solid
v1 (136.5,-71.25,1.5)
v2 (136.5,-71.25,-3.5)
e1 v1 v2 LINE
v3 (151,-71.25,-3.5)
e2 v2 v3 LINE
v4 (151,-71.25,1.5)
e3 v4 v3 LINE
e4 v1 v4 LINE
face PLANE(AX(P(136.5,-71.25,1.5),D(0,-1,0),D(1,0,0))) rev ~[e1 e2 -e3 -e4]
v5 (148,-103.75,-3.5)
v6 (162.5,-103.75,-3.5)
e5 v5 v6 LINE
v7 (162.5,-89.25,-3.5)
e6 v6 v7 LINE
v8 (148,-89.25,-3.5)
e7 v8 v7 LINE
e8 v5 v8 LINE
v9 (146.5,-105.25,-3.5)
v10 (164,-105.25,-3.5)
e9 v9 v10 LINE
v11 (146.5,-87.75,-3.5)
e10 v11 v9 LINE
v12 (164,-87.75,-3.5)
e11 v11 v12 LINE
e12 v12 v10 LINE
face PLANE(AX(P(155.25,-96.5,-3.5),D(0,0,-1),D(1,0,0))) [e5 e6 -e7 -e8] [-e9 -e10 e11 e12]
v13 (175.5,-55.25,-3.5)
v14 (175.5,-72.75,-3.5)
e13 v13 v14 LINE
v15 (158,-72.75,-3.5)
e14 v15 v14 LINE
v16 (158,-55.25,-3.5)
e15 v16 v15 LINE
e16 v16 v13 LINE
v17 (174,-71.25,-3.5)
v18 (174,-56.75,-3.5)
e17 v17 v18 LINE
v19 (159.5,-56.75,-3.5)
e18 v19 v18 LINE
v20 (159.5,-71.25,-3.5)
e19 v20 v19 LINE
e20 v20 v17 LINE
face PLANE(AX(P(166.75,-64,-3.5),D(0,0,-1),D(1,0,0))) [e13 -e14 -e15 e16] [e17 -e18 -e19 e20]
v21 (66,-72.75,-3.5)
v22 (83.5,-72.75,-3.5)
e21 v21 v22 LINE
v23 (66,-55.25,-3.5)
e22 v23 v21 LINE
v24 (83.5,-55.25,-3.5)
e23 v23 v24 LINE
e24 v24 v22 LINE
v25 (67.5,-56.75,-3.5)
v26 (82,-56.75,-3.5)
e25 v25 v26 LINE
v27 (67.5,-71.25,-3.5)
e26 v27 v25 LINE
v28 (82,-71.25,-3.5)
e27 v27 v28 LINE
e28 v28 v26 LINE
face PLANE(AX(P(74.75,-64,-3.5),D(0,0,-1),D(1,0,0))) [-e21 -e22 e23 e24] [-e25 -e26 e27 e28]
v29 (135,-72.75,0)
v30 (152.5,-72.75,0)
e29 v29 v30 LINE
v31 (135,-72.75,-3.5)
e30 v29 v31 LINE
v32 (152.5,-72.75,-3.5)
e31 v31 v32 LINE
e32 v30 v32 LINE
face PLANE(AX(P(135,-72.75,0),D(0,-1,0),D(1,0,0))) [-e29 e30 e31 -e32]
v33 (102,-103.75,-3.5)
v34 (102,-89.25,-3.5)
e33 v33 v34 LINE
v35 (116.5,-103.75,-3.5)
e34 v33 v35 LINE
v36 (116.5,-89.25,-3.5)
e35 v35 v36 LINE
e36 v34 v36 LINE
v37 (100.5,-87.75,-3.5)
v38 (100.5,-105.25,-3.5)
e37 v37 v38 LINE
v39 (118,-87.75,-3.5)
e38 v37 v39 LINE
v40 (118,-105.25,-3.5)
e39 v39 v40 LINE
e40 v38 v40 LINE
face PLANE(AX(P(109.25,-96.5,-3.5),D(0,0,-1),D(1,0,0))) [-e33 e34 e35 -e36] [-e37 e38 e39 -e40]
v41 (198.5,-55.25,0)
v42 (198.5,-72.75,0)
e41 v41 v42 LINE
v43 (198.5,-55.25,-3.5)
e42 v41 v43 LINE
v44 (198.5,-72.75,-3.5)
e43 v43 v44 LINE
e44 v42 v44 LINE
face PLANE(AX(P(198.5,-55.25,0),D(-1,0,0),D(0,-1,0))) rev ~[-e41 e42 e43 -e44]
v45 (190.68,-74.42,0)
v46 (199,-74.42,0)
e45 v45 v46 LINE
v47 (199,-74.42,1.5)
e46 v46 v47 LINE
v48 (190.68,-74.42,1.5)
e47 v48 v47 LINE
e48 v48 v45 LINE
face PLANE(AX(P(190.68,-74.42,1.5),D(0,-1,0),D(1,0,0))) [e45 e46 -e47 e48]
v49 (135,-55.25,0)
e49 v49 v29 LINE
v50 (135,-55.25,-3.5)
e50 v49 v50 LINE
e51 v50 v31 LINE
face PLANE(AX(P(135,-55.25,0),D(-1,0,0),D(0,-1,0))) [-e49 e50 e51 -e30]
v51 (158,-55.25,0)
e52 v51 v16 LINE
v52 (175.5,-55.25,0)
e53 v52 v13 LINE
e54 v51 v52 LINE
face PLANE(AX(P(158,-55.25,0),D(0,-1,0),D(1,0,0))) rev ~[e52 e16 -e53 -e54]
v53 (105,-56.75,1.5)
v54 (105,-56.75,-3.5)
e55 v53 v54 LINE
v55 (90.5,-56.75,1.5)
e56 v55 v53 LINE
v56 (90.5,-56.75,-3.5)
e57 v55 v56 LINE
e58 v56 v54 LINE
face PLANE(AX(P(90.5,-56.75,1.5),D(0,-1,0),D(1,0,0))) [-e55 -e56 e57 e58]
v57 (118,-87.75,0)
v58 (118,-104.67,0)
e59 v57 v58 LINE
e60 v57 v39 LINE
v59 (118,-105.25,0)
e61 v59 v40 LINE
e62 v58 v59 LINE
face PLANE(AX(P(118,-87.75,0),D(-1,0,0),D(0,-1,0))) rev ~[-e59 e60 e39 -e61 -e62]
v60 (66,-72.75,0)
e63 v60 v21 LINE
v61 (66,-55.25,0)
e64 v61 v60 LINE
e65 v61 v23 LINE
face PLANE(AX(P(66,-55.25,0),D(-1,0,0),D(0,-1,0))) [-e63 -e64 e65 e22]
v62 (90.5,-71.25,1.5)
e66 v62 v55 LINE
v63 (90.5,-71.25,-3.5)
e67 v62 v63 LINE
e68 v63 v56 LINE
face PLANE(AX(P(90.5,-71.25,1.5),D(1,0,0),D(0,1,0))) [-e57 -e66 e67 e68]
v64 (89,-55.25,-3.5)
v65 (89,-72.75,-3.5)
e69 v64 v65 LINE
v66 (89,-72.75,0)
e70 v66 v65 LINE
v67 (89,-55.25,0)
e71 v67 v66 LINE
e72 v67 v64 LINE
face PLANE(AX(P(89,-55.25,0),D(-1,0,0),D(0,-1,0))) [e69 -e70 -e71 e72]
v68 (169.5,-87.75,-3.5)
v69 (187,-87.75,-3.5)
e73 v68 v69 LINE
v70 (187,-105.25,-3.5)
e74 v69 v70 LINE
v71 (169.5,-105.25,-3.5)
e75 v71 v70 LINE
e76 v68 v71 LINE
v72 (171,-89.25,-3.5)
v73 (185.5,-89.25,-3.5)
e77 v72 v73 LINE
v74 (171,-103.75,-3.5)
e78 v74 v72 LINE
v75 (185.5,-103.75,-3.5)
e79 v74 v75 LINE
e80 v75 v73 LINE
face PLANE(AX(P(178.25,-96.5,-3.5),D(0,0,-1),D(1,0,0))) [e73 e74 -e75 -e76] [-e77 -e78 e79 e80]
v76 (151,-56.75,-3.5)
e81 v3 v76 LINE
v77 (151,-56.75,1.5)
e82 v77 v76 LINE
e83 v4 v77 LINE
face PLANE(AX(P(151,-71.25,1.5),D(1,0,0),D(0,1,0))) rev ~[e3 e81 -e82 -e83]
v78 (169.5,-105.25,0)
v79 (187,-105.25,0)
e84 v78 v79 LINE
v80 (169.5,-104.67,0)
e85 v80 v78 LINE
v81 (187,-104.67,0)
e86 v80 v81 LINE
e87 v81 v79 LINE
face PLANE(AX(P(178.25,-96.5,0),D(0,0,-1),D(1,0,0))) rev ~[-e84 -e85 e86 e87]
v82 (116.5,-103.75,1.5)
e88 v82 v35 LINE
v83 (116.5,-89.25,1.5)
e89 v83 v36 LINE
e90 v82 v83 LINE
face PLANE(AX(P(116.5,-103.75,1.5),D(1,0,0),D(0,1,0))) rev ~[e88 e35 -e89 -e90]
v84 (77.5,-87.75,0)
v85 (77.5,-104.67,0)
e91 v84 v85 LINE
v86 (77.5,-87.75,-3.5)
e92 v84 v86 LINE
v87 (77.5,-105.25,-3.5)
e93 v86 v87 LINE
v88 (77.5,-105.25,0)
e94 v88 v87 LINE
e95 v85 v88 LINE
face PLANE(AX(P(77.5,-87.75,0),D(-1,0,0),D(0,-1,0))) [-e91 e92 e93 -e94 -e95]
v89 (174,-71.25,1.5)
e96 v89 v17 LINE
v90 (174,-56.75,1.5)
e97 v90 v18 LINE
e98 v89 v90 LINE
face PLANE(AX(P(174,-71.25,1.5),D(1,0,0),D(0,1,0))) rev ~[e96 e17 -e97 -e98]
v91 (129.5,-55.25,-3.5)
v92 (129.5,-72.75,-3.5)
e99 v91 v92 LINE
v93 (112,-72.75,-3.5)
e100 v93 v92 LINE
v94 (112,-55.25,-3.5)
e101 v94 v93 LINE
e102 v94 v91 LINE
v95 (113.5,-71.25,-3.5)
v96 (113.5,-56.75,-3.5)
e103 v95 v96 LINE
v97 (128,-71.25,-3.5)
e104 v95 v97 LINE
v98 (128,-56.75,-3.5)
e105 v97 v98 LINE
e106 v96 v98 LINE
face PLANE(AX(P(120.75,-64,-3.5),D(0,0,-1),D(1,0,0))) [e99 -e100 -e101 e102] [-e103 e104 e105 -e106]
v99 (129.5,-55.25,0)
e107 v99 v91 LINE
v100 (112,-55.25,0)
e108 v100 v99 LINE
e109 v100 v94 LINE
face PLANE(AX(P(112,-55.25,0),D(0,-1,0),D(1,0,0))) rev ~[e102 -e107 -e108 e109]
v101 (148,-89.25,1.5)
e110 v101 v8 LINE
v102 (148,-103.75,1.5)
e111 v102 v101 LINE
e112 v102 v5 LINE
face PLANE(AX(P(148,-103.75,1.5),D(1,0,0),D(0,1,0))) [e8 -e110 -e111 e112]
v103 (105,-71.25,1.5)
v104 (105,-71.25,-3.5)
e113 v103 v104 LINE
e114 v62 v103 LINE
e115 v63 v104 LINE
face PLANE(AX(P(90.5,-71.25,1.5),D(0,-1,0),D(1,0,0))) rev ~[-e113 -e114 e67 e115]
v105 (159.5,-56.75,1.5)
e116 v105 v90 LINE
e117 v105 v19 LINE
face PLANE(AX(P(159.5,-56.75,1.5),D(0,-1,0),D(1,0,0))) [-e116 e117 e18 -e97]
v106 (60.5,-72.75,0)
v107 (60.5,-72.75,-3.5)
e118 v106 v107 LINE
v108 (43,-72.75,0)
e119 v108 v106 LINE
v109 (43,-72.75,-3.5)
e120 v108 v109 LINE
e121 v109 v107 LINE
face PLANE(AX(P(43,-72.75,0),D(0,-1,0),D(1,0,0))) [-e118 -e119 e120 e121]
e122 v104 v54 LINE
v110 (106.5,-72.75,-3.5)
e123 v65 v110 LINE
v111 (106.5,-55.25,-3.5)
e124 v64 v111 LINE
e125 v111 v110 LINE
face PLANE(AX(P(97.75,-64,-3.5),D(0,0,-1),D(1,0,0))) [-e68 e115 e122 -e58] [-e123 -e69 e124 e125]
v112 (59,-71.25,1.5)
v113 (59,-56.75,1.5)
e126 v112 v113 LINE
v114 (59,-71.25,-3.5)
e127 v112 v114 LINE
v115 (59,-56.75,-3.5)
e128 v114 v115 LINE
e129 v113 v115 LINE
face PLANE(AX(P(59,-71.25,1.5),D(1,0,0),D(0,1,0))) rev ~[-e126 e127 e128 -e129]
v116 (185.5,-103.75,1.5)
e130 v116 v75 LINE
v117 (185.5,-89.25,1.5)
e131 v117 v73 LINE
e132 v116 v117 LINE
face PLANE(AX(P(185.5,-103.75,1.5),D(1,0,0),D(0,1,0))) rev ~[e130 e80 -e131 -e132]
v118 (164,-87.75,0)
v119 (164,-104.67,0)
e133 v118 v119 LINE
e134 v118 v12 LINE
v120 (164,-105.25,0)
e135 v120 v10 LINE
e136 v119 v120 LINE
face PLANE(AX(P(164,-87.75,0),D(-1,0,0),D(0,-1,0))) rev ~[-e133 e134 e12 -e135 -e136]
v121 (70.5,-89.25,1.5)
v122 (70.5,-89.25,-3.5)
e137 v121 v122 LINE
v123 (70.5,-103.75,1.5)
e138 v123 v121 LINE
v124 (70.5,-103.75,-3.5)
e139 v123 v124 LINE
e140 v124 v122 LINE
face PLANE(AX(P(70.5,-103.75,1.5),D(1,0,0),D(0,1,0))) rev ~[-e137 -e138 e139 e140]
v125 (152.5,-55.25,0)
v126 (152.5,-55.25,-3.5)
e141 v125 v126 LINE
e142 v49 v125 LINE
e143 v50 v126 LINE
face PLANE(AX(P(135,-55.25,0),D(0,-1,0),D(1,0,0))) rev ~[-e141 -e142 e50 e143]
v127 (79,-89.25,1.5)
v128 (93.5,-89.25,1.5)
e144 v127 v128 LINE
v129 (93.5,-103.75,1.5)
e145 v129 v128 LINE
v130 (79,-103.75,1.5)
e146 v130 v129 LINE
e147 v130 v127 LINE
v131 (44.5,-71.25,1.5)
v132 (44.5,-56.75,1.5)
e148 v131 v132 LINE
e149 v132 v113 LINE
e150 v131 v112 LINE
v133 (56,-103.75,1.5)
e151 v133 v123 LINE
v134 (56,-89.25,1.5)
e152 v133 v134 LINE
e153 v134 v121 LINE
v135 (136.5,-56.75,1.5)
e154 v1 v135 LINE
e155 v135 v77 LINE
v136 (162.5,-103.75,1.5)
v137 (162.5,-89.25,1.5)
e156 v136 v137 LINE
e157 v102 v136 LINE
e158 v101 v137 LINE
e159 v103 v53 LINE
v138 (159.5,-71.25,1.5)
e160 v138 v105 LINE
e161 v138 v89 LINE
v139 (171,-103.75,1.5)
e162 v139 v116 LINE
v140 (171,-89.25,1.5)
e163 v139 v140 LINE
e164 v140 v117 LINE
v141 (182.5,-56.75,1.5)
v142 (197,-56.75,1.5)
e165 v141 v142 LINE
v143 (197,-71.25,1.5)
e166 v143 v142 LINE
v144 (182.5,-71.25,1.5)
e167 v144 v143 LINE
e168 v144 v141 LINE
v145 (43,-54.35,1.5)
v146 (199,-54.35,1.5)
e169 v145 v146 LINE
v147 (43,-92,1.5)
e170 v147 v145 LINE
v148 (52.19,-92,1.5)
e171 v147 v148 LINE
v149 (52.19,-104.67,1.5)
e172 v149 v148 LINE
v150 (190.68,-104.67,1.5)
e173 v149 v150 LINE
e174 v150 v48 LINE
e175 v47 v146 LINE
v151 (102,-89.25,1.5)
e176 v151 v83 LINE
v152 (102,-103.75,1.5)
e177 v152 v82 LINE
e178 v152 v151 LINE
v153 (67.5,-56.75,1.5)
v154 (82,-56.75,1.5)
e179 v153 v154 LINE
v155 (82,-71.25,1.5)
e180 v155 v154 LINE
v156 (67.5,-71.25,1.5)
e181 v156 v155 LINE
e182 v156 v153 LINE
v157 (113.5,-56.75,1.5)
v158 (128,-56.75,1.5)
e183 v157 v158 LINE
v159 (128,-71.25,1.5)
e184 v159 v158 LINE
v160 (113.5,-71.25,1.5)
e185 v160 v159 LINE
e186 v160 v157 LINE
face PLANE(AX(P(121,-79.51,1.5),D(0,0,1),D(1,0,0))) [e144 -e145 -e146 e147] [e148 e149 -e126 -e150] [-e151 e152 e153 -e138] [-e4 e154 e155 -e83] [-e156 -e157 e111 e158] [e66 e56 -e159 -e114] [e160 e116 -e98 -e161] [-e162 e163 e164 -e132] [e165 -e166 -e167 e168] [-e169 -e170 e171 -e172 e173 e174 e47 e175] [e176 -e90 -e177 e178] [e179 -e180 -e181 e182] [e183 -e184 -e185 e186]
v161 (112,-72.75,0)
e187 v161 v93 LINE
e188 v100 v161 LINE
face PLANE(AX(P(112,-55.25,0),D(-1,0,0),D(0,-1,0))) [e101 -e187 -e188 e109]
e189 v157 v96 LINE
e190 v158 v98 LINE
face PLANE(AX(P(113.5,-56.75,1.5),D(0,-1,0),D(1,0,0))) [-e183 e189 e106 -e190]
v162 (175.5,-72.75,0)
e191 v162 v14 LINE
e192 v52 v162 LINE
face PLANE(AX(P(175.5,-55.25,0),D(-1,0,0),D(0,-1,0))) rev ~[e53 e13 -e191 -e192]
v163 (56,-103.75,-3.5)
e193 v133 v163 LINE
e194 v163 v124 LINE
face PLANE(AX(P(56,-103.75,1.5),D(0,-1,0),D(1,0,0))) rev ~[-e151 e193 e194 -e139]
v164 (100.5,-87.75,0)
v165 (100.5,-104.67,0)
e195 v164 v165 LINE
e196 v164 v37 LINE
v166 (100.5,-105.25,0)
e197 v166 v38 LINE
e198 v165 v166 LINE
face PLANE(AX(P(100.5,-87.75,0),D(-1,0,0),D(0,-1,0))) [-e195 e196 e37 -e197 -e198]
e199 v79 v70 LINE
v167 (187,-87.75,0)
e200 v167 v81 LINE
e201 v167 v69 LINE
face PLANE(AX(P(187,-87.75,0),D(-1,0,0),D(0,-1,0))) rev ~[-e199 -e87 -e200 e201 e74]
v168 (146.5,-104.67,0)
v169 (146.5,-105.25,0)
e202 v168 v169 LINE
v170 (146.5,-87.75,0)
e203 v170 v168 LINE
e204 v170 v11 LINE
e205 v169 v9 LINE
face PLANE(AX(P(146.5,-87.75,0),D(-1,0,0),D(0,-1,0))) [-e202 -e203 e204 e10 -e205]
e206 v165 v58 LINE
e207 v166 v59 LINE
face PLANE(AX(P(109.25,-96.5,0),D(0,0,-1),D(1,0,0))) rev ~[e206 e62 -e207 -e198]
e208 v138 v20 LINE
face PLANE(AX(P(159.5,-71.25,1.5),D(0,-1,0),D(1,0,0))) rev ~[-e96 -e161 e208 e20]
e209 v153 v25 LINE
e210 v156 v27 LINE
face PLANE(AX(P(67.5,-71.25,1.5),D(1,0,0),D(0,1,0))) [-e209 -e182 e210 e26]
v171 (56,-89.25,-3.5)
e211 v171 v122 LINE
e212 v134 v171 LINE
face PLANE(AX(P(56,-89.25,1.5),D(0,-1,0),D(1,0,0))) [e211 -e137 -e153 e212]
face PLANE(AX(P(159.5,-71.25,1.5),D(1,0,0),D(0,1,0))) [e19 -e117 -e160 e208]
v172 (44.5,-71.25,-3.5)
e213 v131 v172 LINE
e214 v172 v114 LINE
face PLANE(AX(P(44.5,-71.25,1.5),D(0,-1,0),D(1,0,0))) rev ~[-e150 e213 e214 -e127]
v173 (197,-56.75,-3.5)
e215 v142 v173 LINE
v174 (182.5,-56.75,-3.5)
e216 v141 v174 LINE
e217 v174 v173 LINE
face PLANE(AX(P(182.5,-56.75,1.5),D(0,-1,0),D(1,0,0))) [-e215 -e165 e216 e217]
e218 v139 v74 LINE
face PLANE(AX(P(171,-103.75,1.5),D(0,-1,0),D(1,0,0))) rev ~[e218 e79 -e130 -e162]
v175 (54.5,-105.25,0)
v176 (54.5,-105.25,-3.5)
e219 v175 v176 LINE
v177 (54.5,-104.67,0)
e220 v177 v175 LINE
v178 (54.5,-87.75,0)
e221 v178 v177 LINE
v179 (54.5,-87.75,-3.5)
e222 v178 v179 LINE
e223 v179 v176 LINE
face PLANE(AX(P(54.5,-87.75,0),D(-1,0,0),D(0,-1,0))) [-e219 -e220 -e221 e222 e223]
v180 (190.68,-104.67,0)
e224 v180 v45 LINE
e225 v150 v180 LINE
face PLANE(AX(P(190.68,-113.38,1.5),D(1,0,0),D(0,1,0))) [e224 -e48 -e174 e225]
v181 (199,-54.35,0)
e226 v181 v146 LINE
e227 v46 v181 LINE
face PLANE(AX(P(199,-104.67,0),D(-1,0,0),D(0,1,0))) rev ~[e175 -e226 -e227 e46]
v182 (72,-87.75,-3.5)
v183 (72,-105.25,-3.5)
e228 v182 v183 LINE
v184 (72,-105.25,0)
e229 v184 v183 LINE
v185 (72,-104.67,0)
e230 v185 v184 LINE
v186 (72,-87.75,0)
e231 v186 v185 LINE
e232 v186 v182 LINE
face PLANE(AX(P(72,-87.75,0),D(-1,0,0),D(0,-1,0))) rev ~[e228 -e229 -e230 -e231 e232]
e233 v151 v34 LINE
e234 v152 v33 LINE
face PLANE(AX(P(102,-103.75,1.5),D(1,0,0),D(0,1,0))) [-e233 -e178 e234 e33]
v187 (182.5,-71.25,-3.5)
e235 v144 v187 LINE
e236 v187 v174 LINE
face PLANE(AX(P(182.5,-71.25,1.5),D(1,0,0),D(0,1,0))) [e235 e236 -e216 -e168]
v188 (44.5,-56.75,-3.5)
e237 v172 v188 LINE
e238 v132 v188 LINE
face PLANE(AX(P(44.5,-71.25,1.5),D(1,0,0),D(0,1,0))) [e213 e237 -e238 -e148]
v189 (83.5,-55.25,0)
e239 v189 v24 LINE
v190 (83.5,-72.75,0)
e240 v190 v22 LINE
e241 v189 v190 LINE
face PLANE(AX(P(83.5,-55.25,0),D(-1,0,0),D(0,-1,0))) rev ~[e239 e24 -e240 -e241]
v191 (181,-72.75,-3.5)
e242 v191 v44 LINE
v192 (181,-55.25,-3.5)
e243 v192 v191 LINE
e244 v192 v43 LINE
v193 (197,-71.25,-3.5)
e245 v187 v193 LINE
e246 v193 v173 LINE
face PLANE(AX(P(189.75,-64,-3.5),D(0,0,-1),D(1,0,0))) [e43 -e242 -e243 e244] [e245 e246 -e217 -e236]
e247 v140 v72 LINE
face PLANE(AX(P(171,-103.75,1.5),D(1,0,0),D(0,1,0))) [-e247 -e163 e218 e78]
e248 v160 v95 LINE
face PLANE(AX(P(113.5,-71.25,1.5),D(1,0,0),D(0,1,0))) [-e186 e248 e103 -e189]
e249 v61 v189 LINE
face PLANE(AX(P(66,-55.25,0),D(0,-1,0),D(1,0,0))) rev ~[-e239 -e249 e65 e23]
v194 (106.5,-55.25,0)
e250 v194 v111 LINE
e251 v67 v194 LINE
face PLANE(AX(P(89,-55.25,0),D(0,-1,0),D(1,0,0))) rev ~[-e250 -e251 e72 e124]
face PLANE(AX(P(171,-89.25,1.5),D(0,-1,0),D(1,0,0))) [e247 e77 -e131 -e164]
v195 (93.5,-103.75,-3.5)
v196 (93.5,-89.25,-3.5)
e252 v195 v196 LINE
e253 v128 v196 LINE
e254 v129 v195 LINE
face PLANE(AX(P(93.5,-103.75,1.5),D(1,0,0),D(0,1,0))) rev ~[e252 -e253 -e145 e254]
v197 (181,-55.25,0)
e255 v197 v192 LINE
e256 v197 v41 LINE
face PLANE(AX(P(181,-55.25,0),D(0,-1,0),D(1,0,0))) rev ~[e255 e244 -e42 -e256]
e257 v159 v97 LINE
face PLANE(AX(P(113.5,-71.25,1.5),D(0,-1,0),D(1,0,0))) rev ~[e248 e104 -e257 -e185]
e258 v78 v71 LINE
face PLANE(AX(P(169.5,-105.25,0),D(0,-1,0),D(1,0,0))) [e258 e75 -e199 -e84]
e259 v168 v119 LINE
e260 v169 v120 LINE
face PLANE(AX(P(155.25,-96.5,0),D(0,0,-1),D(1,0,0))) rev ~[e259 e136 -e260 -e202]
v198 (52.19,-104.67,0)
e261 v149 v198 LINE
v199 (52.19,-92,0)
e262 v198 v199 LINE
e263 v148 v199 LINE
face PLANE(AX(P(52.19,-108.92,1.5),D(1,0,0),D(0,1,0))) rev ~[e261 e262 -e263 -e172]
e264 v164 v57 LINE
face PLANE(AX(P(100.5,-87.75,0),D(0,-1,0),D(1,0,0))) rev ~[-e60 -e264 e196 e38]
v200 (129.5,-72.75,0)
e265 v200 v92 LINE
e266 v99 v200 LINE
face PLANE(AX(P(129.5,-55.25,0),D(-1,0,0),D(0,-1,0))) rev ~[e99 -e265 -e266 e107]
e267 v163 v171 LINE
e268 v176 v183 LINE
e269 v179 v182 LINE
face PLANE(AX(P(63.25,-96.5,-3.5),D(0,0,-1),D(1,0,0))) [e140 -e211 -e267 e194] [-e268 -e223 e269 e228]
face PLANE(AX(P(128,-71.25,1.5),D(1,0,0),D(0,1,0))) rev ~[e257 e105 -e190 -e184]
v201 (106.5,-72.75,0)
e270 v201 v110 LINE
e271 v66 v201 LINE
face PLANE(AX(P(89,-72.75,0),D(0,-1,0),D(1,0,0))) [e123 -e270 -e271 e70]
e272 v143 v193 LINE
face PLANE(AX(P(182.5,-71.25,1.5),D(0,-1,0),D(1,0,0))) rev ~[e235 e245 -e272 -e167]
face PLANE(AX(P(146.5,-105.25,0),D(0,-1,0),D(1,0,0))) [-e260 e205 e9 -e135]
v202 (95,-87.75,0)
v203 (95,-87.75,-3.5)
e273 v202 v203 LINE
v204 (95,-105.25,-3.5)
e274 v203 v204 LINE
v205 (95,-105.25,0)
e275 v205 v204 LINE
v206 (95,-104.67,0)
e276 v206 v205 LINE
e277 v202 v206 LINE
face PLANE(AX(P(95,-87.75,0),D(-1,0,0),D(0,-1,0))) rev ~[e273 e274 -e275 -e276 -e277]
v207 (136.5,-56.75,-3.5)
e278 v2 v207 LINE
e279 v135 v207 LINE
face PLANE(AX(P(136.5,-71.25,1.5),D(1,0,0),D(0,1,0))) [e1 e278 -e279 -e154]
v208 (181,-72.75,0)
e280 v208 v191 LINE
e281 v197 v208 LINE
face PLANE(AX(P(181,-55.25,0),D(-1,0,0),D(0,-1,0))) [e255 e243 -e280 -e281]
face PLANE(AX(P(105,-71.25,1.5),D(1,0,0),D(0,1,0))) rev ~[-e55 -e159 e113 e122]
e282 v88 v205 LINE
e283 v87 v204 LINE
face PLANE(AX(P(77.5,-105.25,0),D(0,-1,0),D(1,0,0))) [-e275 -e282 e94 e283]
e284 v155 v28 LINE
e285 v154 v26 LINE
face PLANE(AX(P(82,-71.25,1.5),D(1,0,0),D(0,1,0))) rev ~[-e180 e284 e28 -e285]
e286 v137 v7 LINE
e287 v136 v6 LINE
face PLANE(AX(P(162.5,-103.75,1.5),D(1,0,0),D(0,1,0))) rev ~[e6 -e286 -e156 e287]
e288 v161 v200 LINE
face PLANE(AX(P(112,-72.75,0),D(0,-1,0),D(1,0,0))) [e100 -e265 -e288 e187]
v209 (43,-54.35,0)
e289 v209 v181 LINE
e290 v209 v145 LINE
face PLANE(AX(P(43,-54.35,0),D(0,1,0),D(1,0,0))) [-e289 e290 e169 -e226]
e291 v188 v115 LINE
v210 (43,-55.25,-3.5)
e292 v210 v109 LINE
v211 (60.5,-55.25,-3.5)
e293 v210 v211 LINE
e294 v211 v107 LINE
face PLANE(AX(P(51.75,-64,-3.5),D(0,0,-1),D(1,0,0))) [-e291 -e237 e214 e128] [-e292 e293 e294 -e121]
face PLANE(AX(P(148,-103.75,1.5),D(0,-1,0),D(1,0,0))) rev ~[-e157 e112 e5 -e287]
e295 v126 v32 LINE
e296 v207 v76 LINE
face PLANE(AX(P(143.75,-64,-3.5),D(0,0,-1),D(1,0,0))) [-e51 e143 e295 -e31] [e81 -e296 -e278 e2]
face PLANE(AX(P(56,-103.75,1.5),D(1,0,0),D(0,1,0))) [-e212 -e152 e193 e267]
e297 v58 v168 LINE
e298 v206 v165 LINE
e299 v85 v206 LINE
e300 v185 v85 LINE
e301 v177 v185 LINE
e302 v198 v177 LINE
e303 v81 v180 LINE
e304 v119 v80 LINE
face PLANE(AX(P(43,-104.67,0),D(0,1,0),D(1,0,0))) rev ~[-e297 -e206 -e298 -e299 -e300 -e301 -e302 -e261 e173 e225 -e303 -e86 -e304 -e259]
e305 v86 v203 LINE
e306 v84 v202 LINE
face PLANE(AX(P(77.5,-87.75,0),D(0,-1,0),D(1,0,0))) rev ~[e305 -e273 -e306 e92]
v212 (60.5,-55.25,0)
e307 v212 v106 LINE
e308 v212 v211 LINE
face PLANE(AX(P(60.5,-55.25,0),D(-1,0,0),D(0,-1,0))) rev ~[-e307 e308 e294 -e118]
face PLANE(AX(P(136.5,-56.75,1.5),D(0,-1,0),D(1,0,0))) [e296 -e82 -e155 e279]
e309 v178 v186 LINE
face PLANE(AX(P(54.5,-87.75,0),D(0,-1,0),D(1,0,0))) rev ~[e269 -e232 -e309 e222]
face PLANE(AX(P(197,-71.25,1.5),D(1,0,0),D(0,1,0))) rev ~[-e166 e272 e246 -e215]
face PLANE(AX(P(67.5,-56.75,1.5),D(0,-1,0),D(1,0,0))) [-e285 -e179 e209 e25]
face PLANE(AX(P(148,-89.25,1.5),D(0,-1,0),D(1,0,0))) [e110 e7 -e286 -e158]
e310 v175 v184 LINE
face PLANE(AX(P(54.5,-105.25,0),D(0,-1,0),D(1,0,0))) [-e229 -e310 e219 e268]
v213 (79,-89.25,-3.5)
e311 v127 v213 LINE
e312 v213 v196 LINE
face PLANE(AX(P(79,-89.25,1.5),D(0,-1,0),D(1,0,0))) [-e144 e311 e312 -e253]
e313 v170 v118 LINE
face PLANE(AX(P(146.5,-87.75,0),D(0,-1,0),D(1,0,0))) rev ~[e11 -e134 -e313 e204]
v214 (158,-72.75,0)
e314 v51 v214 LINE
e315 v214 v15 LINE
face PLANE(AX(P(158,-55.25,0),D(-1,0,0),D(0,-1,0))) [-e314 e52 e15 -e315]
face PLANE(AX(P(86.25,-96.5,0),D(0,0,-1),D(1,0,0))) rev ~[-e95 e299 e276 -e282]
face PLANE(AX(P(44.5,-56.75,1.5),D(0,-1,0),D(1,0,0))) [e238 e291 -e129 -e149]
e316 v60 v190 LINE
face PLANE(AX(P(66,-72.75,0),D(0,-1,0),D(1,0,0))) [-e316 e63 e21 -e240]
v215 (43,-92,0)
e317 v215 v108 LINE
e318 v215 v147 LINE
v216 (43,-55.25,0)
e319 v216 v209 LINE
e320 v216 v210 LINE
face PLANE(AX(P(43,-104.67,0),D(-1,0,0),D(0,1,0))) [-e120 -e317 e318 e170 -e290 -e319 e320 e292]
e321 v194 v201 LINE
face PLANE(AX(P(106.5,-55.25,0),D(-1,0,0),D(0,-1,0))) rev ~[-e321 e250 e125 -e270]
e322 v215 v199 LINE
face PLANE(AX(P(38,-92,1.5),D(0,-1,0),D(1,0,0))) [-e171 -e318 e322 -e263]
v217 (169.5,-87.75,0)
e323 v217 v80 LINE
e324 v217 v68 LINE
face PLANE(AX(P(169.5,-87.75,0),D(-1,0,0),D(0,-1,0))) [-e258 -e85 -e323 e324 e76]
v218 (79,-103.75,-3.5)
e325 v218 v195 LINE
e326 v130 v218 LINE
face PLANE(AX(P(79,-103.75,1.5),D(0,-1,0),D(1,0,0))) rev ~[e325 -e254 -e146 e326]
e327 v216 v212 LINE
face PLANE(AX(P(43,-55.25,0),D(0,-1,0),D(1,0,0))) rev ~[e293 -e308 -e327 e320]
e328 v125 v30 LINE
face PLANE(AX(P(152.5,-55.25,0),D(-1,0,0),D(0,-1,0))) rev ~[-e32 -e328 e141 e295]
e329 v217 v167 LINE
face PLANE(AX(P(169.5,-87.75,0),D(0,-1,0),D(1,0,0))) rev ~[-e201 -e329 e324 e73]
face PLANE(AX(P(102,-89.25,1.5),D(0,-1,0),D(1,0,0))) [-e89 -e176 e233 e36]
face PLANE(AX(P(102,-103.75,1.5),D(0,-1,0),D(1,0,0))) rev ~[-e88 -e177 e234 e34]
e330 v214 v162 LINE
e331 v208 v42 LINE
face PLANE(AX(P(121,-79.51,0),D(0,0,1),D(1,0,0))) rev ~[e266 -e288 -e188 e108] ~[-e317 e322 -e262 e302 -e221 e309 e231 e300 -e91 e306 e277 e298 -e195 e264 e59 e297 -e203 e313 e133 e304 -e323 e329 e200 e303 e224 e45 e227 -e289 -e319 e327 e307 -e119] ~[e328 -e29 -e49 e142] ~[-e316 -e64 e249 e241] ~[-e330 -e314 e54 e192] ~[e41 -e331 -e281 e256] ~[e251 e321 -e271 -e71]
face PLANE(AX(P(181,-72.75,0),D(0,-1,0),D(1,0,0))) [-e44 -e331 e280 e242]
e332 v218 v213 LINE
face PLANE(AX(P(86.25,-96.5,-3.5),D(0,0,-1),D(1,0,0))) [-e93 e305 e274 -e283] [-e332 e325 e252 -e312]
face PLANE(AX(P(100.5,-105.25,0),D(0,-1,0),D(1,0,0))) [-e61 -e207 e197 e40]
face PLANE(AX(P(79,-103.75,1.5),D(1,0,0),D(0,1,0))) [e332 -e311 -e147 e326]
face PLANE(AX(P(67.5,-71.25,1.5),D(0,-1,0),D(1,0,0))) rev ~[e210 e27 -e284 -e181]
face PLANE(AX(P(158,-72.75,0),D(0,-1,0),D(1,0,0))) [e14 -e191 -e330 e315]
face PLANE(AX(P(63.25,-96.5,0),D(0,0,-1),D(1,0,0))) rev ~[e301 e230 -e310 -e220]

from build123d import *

# Parameters (mm, degrees)
SKETCH001_W     = 156
SKETCH001_H     = 50.32
PAD_DEPTH       = 1.5
SKETCH004_W     = 17.5
SKETCH004_H     = 17.5
PAD001_DEPTH    = 3.5
SKETCH005_R     = 3.7
SKETCH005_W     = 14.5
SKETCH005_H     = 14.5
POCKET_DEPTH    = 5
SKETCH007_W     = 14.19
SKETCH007_H     = 16.92
SKETCH007_W_2   = 17.17
SKETCH007_H_2   = 38.96
POCKET001_DEPTH = 5


with BuildPart() as part:
    # Sketch001 → Pad (new body)
    with BuildSketch(Plane.XY):
        with Locations((121, -79.51)):
            Rectangle(SKETCH001_W, SKETCH001_H)
    extrude(amount=PAD_DEPTH)

    # Sketch004 (on DatumPlane) → Pad001 (join)
    with BuildSketch(Plane(origin=(0, 0, 0), x_dir=(1, 0, 0), z_dir=(0, 0, -1))):
        with Locations((51.75, 64)):
            Rectangle(SKETCH004_W, SKETCH004_H)
        with Locations((74.75, 64)):
            Rectangle(SKETCH004_W, SKETCH004_H)
        with Locations((97.75, 64)):
            Rectangle(SKETCH004_W, SKETCH004_H)
        with Locations((120.75, 64)):
            Rectangle(SKETCH004_W, SKETCH004_H)
        with Locations((143.75, 64)):
            Rectangle(SKETCH004_W, SKETCH004_H)
        with Locations((166.75, 64)):
            Rectangle(SKETCH004_W, SKETCH004_H)
        with Locations((189.75, 64)):
            Rectangle(SKETCH004_W, SKETCH004_H)
        with Locations((63.25, 96.5)):
            Rectangle(SKETCH004_W, SKETCH004_H)
        with Locations((86.25, 96.5)):
            Rectangle(SKETCH004_W, SKETCH004_H)
        with Locations((109.25, 96.5)):
            Rectangle(SKETCH004_W, SKETCH004_H)
        with Locations((155.25, 96.5)):
            Rectangle(SKETCH004_W, SKETCH004_H)
        with Locations((178.25, 96.5)):
            Rectangle(SKETCH004_W, SKETCH004_H)
    extrude(amount=PAD001_DEPTH)

    # Sketch005 (on DatumPlane) → Pocket (cut)
    with BuildSketch(Plane.XY.offset(1.5)):
        with Locations((114, -109)):
            Circle(SKETCH005_R)
        with Locations((51.75, -64)):
            Rectangle(SKETCH005_W, SKETCH005_H)
        with Locations((74.75, -64)):
            Rectangle(SKETCH005_W, SKETCH005_H)
        with Locations((97.75, -64)):
            Rectangle(SKETCH005_W, SKETCH005_H)
        with Locations((120.75, -64)):
            Rectangle(SKETCH005_W, SKETCH005_H)
        with Locations((143.75, -64)):
            Rectangle(SKETCH005_W, SKETCH005_H)
        with Locations((166.75, -64)):
            Rectangle(SKETCH005_W, SKETCH005_H)
        with Locations((189.75, -64)):
            Rectangle(SKETCH005_W, SKETCH005_H)
        with Locations((63.25, -96.5)):
            Rectangle(SKETCH005_W, SKETCH005_H)
        with Locations((86.25, -96.5)):
            Rectangle(SKETCH005_W, SKETCH005_H)
        with Locations((109.25, -96.5)):
            Rectangle(SKETCH005_W, SKETCH005_H)
        with Locations((155.25, -96.5)):
            Rectangle(SKETCH005_W, SKETCH005_H)
        with Locations((178.25, -96.5)):
            Rectangle(SKETCH005_W, SKETCH005_H)
    extrude(amount=-POCKET_DEPTH, mode=Mode.SUBTRACT)

    # Sketch007 → Pocket001 (cut)
    with BuildSketch(Plane.XY.offset(1.5)):
        with Locations((45.095, -100.46)):
            Rectangle(SKETCH007_W, SKETCH007_H)
        with Locations((199.265, -93.9)):
            Rectangle(SKETCH007_W_2, SKETCH007_H_2)
    extrude(amount=-POCKET001_DEPTH, mode=Mode.SUBTRACT)


solid = part.part
